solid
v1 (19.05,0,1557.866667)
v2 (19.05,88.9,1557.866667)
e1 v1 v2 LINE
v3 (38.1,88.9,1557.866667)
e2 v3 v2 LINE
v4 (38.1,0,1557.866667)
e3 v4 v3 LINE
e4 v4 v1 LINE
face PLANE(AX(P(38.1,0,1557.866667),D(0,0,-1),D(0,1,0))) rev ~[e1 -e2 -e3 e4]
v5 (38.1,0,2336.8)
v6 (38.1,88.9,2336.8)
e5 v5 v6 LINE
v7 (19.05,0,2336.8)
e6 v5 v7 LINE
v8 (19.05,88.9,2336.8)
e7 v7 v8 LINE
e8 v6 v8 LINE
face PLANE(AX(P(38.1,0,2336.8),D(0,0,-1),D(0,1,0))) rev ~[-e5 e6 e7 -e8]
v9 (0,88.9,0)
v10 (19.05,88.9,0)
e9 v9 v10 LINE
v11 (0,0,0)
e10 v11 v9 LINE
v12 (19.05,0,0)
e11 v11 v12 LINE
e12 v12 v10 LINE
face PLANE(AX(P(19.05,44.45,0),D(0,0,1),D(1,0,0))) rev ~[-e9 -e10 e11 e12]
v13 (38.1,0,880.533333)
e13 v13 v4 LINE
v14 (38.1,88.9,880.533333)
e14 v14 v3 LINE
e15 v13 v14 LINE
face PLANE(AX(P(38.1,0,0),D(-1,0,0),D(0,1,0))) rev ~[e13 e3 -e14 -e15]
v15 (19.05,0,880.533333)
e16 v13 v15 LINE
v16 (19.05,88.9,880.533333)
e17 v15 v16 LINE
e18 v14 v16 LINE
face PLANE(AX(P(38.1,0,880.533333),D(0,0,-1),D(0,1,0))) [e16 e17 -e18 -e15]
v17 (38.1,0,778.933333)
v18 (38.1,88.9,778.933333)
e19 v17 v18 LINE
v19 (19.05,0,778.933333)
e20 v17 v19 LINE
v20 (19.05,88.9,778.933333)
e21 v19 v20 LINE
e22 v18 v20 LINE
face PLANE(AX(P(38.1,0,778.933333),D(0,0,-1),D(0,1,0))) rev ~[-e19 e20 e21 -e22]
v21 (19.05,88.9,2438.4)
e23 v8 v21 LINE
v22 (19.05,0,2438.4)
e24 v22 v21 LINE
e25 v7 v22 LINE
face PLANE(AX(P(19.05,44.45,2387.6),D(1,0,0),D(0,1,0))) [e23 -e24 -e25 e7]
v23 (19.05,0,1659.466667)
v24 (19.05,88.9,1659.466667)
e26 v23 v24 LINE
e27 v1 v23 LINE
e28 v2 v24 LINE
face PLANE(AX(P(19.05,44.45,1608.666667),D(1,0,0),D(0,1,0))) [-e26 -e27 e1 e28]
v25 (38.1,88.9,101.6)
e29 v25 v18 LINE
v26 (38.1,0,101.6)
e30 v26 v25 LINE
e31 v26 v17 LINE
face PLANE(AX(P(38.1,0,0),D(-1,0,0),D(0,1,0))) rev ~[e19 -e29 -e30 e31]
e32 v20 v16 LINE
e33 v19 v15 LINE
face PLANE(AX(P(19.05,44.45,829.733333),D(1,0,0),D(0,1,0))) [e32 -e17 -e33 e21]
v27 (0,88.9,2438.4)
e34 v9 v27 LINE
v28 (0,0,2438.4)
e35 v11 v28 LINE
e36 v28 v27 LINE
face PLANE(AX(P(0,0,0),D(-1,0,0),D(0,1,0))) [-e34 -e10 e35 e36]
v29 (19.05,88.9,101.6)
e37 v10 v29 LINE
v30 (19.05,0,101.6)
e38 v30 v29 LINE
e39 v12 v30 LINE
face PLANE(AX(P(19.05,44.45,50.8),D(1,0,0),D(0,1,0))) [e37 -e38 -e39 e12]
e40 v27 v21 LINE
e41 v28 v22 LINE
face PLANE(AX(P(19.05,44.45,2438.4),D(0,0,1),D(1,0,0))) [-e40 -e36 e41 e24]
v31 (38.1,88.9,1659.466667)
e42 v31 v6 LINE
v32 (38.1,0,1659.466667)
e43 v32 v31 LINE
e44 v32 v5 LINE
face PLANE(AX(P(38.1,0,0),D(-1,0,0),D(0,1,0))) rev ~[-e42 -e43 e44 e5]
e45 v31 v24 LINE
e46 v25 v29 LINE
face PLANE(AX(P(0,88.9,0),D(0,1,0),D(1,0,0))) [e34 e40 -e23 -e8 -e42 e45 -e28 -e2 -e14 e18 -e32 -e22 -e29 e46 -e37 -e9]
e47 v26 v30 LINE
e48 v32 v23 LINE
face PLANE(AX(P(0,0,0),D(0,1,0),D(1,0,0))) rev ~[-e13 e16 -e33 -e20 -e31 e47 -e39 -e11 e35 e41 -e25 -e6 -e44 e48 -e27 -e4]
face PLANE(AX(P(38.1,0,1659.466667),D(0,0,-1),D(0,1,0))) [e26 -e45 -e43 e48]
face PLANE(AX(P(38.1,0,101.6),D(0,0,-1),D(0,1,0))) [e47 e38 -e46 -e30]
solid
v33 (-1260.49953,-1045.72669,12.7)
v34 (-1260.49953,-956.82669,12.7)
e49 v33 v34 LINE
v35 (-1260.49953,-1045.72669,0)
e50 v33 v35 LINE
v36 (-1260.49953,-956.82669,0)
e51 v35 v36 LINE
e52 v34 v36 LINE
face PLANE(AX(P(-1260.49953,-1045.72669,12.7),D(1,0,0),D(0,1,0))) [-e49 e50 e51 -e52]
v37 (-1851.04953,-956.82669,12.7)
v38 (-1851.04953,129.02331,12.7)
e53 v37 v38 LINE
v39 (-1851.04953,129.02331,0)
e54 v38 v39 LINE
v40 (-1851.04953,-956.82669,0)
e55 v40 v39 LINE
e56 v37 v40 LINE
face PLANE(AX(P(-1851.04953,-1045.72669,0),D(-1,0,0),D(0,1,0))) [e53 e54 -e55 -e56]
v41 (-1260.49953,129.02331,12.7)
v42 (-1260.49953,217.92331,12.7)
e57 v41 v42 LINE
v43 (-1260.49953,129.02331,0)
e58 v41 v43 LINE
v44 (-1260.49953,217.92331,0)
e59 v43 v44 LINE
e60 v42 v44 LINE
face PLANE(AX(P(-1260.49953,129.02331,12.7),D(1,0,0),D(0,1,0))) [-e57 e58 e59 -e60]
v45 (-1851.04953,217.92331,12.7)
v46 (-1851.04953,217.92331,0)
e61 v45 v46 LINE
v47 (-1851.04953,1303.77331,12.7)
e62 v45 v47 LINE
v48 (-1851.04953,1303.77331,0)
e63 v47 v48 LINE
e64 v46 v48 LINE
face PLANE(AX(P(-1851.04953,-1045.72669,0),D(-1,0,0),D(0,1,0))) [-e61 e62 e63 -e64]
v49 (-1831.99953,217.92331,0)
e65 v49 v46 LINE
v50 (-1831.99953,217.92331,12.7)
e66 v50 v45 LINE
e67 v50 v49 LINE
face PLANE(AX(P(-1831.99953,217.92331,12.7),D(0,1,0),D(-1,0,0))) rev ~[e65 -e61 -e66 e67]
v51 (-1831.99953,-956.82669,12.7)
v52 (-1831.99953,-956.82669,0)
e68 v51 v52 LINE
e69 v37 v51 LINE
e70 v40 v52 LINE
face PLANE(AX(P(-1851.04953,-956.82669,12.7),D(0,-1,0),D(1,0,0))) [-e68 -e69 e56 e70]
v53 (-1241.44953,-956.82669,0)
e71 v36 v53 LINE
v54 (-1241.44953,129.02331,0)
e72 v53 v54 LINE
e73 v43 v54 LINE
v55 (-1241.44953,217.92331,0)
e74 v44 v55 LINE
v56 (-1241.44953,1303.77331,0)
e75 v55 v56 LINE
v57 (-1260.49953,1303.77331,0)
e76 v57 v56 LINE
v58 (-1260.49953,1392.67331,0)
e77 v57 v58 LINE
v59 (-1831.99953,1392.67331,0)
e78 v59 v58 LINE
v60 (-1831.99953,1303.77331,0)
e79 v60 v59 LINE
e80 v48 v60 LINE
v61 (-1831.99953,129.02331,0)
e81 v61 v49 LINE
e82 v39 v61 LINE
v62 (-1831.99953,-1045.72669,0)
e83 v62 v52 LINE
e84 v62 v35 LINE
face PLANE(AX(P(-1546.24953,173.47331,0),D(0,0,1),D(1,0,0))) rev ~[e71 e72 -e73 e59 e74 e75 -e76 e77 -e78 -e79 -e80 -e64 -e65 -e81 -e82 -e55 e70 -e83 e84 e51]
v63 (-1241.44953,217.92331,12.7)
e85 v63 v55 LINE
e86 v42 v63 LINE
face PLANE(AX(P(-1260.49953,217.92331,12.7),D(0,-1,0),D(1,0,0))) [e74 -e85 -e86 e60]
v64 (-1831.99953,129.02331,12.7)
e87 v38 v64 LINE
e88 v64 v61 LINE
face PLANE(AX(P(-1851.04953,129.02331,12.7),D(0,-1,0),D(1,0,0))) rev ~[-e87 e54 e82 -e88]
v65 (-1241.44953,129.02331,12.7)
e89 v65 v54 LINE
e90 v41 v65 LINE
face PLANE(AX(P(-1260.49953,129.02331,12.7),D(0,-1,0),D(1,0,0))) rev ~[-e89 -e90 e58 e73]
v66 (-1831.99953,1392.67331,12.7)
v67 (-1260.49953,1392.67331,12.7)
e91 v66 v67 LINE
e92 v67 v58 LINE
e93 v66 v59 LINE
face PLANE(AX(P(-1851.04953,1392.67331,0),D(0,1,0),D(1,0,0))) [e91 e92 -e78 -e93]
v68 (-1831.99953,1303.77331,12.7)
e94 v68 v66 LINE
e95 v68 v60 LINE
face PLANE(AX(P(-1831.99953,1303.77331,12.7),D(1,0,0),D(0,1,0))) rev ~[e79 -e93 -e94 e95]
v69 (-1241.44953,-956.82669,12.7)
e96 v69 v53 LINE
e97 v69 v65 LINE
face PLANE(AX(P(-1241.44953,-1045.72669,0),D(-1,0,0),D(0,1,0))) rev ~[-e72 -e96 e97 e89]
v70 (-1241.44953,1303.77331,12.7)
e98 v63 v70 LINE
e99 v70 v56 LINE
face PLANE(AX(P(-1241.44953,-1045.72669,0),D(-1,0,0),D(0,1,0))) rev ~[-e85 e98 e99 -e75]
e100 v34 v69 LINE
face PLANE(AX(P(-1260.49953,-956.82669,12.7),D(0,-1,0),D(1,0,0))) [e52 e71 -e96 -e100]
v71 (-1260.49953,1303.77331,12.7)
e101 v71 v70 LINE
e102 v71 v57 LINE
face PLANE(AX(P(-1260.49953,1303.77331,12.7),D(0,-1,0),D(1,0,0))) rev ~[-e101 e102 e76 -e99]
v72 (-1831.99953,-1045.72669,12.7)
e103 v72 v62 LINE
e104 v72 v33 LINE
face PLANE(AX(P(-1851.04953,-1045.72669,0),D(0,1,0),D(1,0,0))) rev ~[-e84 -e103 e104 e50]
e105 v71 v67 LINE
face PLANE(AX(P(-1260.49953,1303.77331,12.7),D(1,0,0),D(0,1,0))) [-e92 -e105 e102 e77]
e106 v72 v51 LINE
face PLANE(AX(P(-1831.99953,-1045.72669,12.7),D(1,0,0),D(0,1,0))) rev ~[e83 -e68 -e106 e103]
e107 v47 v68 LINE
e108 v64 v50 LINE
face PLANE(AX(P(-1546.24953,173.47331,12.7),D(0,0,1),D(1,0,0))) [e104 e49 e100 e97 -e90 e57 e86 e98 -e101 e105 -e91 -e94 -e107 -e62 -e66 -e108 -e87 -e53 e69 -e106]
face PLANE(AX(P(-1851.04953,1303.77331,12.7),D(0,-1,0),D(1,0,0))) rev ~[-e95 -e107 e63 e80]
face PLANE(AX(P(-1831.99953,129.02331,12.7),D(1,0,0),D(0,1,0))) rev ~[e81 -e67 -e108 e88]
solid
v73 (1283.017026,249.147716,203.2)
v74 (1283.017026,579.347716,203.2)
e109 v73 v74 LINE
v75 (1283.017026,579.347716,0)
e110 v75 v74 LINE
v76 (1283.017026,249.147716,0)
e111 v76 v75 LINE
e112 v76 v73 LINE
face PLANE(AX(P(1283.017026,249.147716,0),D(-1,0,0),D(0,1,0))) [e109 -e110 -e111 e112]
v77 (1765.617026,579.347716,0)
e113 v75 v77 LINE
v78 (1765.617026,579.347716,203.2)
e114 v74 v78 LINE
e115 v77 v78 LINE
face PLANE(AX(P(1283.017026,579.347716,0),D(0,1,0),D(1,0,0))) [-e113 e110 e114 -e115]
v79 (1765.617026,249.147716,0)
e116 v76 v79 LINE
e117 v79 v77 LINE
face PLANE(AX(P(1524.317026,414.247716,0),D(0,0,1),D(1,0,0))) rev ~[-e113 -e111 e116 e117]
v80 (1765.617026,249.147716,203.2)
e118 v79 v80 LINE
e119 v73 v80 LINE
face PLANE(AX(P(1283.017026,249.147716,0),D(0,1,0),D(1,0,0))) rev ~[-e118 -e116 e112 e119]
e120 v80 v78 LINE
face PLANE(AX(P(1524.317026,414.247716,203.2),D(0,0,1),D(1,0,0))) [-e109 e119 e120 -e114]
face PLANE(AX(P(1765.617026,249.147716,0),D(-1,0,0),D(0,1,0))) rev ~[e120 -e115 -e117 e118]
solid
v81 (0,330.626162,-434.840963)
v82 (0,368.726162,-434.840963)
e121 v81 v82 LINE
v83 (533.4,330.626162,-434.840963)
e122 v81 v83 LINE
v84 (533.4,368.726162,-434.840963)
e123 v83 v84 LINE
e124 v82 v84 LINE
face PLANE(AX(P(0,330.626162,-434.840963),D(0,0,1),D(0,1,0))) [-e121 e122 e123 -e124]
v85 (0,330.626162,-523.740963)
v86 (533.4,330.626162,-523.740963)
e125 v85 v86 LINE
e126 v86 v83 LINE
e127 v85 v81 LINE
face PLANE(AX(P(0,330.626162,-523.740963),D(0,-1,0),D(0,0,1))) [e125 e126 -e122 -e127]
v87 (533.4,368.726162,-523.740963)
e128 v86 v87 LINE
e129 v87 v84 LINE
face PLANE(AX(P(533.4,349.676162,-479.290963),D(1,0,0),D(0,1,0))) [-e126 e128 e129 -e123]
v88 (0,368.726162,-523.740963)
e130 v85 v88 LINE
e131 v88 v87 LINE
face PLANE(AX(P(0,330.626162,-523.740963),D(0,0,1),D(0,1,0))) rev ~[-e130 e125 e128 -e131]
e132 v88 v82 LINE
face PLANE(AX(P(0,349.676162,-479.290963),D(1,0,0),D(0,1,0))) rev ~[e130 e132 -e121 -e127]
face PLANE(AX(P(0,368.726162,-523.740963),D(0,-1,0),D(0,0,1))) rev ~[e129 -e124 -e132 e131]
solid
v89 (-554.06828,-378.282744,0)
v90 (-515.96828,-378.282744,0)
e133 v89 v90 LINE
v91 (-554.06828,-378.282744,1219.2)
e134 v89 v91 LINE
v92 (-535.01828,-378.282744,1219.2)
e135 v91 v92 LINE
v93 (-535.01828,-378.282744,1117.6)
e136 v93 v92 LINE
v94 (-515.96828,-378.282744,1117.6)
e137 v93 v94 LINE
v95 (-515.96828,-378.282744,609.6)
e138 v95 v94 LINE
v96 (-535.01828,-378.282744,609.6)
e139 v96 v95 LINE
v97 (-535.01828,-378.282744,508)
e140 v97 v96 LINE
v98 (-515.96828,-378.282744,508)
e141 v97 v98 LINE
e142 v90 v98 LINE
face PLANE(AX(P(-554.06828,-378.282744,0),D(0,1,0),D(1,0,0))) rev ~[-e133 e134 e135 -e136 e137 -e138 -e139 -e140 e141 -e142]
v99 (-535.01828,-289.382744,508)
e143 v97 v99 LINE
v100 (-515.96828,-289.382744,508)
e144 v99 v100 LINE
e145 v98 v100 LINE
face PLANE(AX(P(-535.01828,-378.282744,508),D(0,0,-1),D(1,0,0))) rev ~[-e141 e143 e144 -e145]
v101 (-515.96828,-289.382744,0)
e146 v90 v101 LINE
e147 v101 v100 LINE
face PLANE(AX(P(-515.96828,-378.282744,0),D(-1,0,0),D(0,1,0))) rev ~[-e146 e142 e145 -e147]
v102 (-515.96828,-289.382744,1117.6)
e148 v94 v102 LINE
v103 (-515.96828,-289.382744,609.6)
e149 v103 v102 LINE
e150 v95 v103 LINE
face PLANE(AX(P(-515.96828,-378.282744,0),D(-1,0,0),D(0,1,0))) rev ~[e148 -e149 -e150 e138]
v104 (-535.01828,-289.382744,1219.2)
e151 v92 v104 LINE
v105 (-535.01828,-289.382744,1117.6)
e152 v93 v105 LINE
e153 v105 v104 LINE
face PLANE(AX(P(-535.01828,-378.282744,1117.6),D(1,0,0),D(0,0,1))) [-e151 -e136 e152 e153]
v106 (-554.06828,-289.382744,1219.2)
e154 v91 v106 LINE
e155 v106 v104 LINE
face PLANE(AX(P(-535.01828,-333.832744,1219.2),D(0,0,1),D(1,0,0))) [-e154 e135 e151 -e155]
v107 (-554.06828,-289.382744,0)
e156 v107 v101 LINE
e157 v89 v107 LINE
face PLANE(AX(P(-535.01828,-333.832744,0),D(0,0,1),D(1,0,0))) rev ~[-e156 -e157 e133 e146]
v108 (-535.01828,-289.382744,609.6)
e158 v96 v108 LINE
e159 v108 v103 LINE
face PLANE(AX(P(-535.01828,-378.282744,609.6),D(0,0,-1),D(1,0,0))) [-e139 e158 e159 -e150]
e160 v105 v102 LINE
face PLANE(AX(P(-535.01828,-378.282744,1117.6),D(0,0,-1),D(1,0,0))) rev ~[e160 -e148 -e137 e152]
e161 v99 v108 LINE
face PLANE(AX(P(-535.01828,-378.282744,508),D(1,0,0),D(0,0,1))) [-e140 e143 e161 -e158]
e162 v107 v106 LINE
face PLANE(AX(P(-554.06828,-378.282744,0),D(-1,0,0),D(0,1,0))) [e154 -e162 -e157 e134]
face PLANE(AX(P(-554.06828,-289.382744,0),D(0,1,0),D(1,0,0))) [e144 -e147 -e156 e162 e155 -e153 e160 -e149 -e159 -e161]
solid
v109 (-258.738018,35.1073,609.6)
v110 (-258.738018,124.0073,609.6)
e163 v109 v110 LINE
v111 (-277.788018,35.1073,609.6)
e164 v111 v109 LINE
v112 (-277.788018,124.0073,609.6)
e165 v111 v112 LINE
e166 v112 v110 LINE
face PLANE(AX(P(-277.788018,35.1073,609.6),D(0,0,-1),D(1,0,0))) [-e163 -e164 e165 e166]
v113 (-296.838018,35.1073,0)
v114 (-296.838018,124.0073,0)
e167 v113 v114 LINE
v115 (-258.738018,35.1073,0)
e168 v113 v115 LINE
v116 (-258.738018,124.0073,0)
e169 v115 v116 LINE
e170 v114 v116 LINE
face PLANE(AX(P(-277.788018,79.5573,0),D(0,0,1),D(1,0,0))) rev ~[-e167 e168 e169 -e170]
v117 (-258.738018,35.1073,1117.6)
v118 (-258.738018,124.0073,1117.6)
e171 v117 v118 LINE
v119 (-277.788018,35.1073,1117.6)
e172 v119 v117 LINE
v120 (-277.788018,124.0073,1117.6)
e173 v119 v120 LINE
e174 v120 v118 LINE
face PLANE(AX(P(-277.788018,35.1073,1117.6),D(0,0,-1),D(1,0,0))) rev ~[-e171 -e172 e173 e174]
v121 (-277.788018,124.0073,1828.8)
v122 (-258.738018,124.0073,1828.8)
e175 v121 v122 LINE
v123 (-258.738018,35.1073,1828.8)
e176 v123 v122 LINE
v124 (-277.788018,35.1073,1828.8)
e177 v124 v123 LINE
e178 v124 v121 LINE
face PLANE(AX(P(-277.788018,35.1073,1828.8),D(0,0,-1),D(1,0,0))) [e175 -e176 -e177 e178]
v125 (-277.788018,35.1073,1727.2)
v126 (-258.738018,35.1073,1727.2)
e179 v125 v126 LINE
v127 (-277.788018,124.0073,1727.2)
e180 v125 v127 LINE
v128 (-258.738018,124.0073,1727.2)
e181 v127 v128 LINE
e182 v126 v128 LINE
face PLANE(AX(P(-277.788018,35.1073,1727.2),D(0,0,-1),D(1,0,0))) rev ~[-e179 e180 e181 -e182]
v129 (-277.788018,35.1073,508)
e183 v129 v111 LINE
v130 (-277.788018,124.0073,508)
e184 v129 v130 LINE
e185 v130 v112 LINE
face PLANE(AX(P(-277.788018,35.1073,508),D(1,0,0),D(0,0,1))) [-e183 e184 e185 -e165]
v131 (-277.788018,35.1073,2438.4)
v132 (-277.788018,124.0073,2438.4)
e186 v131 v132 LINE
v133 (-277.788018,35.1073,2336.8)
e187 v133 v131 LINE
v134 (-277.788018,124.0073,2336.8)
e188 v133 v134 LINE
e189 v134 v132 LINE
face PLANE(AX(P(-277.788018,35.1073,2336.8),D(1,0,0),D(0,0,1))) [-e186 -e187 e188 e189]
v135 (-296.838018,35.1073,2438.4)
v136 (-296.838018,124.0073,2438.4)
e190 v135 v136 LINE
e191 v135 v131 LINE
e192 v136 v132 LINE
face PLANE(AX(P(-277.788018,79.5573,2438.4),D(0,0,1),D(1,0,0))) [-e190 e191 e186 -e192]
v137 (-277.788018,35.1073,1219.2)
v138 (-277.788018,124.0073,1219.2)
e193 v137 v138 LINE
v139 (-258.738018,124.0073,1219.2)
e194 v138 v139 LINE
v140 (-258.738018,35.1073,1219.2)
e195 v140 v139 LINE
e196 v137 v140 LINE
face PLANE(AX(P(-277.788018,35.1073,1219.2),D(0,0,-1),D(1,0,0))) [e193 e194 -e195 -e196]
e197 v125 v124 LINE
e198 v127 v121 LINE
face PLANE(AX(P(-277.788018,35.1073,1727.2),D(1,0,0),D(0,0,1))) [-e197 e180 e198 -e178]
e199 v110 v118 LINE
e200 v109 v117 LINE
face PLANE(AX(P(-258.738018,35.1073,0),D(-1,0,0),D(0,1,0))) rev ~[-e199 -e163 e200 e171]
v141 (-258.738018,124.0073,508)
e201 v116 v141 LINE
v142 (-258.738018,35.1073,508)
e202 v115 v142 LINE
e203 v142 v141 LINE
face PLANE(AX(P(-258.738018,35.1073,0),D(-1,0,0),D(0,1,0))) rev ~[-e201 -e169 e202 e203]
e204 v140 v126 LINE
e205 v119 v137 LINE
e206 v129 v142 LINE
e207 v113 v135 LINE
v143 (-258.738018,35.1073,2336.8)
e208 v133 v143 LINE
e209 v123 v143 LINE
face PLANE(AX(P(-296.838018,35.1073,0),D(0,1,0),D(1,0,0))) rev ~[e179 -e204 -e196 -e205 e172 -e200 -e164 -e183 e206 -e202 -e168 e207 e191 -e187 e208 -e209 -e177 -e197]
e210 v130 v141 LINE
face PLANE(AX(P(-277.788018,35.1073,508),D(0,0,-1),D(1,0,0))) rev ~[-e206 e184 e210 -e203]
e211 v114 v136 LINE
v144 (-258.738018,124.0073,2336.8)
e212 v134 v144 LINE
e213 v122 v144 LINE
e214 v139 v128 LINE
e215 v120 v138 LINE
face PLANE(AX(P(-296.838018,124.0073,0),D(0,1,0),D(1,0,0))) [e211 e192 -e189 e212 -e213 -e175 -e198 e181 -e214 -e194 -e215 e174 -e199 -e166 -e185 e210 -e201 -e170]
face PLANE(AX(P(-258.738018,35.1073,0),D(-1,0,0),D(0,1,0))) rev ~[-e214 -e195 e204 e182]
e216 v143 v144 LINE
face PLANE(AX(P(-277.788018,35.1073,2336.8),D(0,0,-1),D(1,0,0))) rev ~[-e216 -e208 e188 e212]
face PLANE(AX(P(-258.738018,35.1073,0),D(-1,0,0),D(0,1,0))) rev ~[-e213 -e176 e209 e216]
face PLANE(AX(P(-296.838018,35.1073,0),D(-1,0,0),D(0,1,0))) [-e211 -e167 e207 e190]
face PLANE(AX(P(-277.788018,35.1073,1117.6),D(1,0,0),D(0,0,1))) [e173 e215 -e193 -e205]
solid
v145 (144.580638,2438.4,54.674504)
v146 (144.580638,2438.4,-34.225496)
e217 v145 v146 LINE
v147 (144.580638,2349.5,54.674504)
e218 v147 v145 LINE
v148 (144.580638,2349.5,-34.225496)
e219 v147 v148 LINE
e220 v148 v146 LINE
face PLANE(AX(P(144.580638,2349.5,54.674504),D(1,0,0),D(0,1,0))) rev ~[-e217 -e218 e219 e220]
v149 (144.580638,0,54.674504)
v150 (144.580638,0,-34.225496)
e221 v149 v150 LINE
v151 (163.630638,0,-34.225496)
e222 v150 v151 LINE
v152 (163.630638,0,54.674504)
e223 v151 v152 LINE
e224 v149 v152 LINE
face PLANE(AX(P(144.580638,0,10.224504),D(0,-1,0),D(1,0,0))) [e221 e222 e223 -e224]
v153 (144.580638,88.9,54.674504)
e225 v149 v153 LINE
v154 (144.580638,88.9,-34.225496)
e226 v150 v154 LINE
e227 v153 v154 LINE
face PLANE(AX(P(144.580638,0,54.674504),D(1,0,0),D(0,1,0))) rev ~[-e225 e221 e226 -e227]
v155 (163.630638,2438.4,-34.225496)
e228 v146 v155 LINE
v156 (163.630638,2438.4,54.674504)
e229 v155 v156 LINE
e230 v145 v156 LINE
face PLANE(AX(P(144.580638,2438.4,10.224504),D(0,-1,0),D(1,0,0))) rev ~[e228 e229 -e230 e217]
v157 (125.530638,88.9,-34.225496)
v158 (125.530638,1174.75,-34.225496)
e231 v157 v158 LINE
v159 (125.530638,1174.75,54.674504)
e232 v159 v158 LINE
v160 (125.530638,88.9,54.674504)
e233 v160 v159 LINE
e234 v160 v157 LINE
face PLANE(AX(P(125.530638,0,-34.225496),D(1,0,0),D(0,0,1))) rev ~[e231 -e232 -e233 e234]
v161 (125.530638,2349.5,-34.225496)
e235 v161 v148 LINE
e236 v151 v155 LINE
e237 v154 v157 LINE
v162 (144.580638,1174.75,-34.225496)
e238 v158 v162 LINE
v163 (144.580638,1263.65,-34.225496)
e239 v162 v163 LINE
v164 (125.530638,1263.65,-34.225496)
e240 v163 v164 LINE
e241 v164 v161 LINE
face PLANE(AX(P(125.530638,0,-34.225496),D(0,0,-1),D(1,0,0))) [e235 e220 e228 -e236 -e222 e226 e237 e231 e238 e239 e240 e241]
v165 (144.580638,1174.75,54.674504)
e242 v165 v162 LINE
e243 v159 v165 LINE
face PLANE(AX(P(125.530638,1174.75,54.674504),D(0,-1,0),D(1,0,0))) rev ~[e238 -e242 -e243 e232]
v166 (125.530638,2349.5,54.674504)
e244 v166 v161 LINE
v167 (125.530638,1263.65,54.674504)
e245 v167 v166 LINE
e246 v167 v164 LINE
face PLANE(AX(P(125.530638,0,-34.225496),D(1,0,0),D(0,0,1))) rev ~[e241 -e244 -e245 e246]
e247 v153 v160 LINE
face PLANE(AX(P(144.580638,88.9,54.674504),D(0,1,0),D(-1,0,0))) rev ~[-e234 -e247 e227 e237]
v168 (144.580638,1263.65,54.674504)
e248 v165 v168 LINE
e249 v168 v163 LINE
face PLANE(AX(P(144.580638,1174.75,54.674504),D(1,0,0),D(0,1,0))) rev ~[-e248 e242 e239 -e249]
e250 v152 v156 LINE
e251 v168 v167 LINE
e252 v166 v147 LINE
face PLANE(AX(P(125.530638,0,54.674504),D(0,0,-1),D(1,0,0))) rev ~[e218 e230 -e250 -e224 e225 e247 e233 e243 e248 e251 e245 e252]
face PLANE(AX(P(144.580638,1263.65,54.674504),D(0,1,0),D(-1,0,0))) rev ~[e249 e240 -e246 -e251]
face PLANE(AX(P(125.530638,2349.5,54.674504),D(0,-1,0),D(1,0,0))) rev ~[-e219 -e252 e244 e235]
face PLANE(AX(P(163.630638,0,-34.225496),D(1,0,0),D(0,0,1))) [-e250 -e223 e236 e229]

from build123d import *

# Parameters (mm, degrees)
F0_W      = 38.1
F0_H      = 88.9
F1_DEPTH  = 2438.4
F2_W      = 38.1
F2_H      = 88.9
F3_DEPTH  = 2438.4
F4_W      = 609.6
F4_H      = 2438.4
F5_DEPTH  = 12.7
F6_W      = 38.1
F6_H      = 88.9
F7_DEPTH  = 533.4
F9_DEPTH  = 88.9
F10_W     = 88.9
F10_H     = 101.6
F11_DEPTH = 19.05
F12_W     = 19.05
F12_H     = 88.9
F13_DEPTH = 12.7
F14_W     = 482.6
F14_H     = 330.2
F15_DEPTH = 203.2
F16_W     = 38.1
F16_H     = 88.9
F17_DEPTH = 2438.4
F18_W     = 19.05
F18_H     = 101.6
F19_DEPTH = 88.9
F20_W     = 38.1
F20_H     = 88.9
F21_DEPTH = 1219.2
F22_W     = 19.05
F22_H     = 101.6
F23_DEPTH = 88.9


with BuildPart() as f1:
    # F0 (on Top) → F1 (new body)
    with BuildSketch(Plane.XY):
        with Locations((19.05, 44.45)):
            Rectangle(F0_W, F0_H)
    extrude(amount=F1_DEPTH)

    # F10 (on face) → F11 (cut)
    with BuildSketch(Plane.YZ.offset(38.1)):
        with Locations((44.45, 2387.6)):
            Rectangle(F10_W, F10_H)
        with Locations((44.45, 50.8)):
            Rectangle(F10_W, F10_H)
        with Locations((44.45, 1608.666667)):
            Rectangle(F10_W, F10_H)
        with Locations((44.45, 829.733333)):
            Rectangle(F10_W, F10_H)
    extrude(amount=-F11_DEPTH, mode=Mode.SUBTRACT)


with BuildPart() as f3:
    # F2 (on Front) → F3 (new body)
    with BuildSketch(Plane.XZ):
        with Locations((144.580638, 10.224504)):
            Rectangle(F2_W, F2_H)
    extrude(amount=-F3_DEPTH)

    # F8 (on face) → F9 (cut)
    with BuildSketch(Plane.XY.offset(54.674504)):
        Polygon((125.530638, 88.9), (125.530638, 0), (144.580638, 0), (144.580638, 38.1), (144.580638, 88.9), align=None)
        Polygon((125.530638, 2438.4), (125.530638, 2349.5), (144.580638, 2349.5), (144.580638, 2400.3), (144.580638, 2438.4), align=None)
        Polygon((125.530638, 1219.2), (125.530638, 1174.75), (144.580638, 1174.75), (144.580638, 1200.15), (144.580638, 1238.25), (144.580638, 1263.65), (125.530638, 1263.65), align=None)
    extrude(amount=-F9_DEPTH, mode=Mode.SUBTRACT)


with BuildPart() as f5:
    # F4 (on Top) → F5 (new body)
    with BuildSketch(Plane.XY):
        with Locations((-1546.24953, 173.47331)):
            Rectangle(F4_W, F4_H)
    extrude(amount=F5_DEPTH)

    # F12 (on face) → F13 (cut, through all)
    with BuildSketch(Plane.XY.offset(12.7)):
        with Locations((-1841.52453, -1001.27669)):
            Rectangle(F12_W, F12_H)
        with Locations((-1250.97453, -1001.27669)):
            Rectangle(F12_W, F12_H)
        with Locations((-1250.97453, 173.47331)):
            Rectangle(F12_W, F12_H)
        Polygon((-1851.04953, 173.47331), (-1851.04953, 129.02331), (-1831.99953, 129.02331), (-1831.99953, 217.92331), (-1851.04953, 217.92331), align=None)
        with Locations((-1841.52453, 1348.22331)):
            Rectangle(F12_W, F12_H)
        with Locations((-1250.97453, 1348.22331)):
            Rectangle(F12_W, F12_H)
    extrude(amount=-F13_DEPTH, mode=Mode.SUBTRACT)


with BuildPart() as f7:
    # F6 (on Right) → F7 (new body)
    with BuildSketch(Plane.YZ):
        with Locations((349.676162, -479.290963)):
            Rectangle(F6_W, F6_H)
    extrude(amount=F7_DEPTH)


with BuildPart() as f15:
    # F14 (on Top) → F15 (new body)
    with BuildSketch(Plane.XY):
        with Locations((1524.317026, 414.247716)):
            Rectangle(F14_W, F14_H)
    extrude(amount=F15_DEPTH)


with BuildPart() as f17:
    # F16 (on Top) → F17 (new body)
    with BuildSketch(Plane.XY):
        with Locations((-277.788018, 79.5573)):
            Rectangle(F16_W, F16_H)
    extrude(amount=F17_DEPTH)

    # F18 (on face) → F19 (cut, through all)
    with BuildSketch(Plane.XZ.offset(-35.1073)):
        with Locations((-268.263018, 2387.6)):
            Rectangle(F18_W, F18_H)
        with Locations((-268.263018, 1778)):
            Rectangle(F18_W, F18_H)
        with Locations((-268.263018, 1168.4)):
            Rectangle(F18_W, F18_H)
        with Locations((-268.263018, 558.8)):
            Rectangle(F18_W, F18_H)
    extrude(amount=-F19_DEPTH, mode=Mode.SUBTRACT)


with BuildPart() as f21:
    # F20 (on Top) → F21 (new body)
    with BuildSketch(Plane.XY):
        with Locations((-535.01828, -333.832744)):
            Rectangle(F20_W, F20_H)
    extrude(amount=F21_DEPTH)

    # F22 (on face) → F23 (cut, through all)
    with BuildSketch(Plane.XZ.offset(378.282744)):
        with Locations((-525.49328, 1168.4)):
            Rectangle(F22_W, F22_H)
        with Locations((-525.49328, 558.8)):
            Rectangle(F22_W, F22_H)
    extrude(amount=-F23_DEPTH, mode=Mode.SUBTRACT)


solid = Compound([f1.part, f3.part, f5.part, f7.part, f15.part, f17.part, f21.part])
